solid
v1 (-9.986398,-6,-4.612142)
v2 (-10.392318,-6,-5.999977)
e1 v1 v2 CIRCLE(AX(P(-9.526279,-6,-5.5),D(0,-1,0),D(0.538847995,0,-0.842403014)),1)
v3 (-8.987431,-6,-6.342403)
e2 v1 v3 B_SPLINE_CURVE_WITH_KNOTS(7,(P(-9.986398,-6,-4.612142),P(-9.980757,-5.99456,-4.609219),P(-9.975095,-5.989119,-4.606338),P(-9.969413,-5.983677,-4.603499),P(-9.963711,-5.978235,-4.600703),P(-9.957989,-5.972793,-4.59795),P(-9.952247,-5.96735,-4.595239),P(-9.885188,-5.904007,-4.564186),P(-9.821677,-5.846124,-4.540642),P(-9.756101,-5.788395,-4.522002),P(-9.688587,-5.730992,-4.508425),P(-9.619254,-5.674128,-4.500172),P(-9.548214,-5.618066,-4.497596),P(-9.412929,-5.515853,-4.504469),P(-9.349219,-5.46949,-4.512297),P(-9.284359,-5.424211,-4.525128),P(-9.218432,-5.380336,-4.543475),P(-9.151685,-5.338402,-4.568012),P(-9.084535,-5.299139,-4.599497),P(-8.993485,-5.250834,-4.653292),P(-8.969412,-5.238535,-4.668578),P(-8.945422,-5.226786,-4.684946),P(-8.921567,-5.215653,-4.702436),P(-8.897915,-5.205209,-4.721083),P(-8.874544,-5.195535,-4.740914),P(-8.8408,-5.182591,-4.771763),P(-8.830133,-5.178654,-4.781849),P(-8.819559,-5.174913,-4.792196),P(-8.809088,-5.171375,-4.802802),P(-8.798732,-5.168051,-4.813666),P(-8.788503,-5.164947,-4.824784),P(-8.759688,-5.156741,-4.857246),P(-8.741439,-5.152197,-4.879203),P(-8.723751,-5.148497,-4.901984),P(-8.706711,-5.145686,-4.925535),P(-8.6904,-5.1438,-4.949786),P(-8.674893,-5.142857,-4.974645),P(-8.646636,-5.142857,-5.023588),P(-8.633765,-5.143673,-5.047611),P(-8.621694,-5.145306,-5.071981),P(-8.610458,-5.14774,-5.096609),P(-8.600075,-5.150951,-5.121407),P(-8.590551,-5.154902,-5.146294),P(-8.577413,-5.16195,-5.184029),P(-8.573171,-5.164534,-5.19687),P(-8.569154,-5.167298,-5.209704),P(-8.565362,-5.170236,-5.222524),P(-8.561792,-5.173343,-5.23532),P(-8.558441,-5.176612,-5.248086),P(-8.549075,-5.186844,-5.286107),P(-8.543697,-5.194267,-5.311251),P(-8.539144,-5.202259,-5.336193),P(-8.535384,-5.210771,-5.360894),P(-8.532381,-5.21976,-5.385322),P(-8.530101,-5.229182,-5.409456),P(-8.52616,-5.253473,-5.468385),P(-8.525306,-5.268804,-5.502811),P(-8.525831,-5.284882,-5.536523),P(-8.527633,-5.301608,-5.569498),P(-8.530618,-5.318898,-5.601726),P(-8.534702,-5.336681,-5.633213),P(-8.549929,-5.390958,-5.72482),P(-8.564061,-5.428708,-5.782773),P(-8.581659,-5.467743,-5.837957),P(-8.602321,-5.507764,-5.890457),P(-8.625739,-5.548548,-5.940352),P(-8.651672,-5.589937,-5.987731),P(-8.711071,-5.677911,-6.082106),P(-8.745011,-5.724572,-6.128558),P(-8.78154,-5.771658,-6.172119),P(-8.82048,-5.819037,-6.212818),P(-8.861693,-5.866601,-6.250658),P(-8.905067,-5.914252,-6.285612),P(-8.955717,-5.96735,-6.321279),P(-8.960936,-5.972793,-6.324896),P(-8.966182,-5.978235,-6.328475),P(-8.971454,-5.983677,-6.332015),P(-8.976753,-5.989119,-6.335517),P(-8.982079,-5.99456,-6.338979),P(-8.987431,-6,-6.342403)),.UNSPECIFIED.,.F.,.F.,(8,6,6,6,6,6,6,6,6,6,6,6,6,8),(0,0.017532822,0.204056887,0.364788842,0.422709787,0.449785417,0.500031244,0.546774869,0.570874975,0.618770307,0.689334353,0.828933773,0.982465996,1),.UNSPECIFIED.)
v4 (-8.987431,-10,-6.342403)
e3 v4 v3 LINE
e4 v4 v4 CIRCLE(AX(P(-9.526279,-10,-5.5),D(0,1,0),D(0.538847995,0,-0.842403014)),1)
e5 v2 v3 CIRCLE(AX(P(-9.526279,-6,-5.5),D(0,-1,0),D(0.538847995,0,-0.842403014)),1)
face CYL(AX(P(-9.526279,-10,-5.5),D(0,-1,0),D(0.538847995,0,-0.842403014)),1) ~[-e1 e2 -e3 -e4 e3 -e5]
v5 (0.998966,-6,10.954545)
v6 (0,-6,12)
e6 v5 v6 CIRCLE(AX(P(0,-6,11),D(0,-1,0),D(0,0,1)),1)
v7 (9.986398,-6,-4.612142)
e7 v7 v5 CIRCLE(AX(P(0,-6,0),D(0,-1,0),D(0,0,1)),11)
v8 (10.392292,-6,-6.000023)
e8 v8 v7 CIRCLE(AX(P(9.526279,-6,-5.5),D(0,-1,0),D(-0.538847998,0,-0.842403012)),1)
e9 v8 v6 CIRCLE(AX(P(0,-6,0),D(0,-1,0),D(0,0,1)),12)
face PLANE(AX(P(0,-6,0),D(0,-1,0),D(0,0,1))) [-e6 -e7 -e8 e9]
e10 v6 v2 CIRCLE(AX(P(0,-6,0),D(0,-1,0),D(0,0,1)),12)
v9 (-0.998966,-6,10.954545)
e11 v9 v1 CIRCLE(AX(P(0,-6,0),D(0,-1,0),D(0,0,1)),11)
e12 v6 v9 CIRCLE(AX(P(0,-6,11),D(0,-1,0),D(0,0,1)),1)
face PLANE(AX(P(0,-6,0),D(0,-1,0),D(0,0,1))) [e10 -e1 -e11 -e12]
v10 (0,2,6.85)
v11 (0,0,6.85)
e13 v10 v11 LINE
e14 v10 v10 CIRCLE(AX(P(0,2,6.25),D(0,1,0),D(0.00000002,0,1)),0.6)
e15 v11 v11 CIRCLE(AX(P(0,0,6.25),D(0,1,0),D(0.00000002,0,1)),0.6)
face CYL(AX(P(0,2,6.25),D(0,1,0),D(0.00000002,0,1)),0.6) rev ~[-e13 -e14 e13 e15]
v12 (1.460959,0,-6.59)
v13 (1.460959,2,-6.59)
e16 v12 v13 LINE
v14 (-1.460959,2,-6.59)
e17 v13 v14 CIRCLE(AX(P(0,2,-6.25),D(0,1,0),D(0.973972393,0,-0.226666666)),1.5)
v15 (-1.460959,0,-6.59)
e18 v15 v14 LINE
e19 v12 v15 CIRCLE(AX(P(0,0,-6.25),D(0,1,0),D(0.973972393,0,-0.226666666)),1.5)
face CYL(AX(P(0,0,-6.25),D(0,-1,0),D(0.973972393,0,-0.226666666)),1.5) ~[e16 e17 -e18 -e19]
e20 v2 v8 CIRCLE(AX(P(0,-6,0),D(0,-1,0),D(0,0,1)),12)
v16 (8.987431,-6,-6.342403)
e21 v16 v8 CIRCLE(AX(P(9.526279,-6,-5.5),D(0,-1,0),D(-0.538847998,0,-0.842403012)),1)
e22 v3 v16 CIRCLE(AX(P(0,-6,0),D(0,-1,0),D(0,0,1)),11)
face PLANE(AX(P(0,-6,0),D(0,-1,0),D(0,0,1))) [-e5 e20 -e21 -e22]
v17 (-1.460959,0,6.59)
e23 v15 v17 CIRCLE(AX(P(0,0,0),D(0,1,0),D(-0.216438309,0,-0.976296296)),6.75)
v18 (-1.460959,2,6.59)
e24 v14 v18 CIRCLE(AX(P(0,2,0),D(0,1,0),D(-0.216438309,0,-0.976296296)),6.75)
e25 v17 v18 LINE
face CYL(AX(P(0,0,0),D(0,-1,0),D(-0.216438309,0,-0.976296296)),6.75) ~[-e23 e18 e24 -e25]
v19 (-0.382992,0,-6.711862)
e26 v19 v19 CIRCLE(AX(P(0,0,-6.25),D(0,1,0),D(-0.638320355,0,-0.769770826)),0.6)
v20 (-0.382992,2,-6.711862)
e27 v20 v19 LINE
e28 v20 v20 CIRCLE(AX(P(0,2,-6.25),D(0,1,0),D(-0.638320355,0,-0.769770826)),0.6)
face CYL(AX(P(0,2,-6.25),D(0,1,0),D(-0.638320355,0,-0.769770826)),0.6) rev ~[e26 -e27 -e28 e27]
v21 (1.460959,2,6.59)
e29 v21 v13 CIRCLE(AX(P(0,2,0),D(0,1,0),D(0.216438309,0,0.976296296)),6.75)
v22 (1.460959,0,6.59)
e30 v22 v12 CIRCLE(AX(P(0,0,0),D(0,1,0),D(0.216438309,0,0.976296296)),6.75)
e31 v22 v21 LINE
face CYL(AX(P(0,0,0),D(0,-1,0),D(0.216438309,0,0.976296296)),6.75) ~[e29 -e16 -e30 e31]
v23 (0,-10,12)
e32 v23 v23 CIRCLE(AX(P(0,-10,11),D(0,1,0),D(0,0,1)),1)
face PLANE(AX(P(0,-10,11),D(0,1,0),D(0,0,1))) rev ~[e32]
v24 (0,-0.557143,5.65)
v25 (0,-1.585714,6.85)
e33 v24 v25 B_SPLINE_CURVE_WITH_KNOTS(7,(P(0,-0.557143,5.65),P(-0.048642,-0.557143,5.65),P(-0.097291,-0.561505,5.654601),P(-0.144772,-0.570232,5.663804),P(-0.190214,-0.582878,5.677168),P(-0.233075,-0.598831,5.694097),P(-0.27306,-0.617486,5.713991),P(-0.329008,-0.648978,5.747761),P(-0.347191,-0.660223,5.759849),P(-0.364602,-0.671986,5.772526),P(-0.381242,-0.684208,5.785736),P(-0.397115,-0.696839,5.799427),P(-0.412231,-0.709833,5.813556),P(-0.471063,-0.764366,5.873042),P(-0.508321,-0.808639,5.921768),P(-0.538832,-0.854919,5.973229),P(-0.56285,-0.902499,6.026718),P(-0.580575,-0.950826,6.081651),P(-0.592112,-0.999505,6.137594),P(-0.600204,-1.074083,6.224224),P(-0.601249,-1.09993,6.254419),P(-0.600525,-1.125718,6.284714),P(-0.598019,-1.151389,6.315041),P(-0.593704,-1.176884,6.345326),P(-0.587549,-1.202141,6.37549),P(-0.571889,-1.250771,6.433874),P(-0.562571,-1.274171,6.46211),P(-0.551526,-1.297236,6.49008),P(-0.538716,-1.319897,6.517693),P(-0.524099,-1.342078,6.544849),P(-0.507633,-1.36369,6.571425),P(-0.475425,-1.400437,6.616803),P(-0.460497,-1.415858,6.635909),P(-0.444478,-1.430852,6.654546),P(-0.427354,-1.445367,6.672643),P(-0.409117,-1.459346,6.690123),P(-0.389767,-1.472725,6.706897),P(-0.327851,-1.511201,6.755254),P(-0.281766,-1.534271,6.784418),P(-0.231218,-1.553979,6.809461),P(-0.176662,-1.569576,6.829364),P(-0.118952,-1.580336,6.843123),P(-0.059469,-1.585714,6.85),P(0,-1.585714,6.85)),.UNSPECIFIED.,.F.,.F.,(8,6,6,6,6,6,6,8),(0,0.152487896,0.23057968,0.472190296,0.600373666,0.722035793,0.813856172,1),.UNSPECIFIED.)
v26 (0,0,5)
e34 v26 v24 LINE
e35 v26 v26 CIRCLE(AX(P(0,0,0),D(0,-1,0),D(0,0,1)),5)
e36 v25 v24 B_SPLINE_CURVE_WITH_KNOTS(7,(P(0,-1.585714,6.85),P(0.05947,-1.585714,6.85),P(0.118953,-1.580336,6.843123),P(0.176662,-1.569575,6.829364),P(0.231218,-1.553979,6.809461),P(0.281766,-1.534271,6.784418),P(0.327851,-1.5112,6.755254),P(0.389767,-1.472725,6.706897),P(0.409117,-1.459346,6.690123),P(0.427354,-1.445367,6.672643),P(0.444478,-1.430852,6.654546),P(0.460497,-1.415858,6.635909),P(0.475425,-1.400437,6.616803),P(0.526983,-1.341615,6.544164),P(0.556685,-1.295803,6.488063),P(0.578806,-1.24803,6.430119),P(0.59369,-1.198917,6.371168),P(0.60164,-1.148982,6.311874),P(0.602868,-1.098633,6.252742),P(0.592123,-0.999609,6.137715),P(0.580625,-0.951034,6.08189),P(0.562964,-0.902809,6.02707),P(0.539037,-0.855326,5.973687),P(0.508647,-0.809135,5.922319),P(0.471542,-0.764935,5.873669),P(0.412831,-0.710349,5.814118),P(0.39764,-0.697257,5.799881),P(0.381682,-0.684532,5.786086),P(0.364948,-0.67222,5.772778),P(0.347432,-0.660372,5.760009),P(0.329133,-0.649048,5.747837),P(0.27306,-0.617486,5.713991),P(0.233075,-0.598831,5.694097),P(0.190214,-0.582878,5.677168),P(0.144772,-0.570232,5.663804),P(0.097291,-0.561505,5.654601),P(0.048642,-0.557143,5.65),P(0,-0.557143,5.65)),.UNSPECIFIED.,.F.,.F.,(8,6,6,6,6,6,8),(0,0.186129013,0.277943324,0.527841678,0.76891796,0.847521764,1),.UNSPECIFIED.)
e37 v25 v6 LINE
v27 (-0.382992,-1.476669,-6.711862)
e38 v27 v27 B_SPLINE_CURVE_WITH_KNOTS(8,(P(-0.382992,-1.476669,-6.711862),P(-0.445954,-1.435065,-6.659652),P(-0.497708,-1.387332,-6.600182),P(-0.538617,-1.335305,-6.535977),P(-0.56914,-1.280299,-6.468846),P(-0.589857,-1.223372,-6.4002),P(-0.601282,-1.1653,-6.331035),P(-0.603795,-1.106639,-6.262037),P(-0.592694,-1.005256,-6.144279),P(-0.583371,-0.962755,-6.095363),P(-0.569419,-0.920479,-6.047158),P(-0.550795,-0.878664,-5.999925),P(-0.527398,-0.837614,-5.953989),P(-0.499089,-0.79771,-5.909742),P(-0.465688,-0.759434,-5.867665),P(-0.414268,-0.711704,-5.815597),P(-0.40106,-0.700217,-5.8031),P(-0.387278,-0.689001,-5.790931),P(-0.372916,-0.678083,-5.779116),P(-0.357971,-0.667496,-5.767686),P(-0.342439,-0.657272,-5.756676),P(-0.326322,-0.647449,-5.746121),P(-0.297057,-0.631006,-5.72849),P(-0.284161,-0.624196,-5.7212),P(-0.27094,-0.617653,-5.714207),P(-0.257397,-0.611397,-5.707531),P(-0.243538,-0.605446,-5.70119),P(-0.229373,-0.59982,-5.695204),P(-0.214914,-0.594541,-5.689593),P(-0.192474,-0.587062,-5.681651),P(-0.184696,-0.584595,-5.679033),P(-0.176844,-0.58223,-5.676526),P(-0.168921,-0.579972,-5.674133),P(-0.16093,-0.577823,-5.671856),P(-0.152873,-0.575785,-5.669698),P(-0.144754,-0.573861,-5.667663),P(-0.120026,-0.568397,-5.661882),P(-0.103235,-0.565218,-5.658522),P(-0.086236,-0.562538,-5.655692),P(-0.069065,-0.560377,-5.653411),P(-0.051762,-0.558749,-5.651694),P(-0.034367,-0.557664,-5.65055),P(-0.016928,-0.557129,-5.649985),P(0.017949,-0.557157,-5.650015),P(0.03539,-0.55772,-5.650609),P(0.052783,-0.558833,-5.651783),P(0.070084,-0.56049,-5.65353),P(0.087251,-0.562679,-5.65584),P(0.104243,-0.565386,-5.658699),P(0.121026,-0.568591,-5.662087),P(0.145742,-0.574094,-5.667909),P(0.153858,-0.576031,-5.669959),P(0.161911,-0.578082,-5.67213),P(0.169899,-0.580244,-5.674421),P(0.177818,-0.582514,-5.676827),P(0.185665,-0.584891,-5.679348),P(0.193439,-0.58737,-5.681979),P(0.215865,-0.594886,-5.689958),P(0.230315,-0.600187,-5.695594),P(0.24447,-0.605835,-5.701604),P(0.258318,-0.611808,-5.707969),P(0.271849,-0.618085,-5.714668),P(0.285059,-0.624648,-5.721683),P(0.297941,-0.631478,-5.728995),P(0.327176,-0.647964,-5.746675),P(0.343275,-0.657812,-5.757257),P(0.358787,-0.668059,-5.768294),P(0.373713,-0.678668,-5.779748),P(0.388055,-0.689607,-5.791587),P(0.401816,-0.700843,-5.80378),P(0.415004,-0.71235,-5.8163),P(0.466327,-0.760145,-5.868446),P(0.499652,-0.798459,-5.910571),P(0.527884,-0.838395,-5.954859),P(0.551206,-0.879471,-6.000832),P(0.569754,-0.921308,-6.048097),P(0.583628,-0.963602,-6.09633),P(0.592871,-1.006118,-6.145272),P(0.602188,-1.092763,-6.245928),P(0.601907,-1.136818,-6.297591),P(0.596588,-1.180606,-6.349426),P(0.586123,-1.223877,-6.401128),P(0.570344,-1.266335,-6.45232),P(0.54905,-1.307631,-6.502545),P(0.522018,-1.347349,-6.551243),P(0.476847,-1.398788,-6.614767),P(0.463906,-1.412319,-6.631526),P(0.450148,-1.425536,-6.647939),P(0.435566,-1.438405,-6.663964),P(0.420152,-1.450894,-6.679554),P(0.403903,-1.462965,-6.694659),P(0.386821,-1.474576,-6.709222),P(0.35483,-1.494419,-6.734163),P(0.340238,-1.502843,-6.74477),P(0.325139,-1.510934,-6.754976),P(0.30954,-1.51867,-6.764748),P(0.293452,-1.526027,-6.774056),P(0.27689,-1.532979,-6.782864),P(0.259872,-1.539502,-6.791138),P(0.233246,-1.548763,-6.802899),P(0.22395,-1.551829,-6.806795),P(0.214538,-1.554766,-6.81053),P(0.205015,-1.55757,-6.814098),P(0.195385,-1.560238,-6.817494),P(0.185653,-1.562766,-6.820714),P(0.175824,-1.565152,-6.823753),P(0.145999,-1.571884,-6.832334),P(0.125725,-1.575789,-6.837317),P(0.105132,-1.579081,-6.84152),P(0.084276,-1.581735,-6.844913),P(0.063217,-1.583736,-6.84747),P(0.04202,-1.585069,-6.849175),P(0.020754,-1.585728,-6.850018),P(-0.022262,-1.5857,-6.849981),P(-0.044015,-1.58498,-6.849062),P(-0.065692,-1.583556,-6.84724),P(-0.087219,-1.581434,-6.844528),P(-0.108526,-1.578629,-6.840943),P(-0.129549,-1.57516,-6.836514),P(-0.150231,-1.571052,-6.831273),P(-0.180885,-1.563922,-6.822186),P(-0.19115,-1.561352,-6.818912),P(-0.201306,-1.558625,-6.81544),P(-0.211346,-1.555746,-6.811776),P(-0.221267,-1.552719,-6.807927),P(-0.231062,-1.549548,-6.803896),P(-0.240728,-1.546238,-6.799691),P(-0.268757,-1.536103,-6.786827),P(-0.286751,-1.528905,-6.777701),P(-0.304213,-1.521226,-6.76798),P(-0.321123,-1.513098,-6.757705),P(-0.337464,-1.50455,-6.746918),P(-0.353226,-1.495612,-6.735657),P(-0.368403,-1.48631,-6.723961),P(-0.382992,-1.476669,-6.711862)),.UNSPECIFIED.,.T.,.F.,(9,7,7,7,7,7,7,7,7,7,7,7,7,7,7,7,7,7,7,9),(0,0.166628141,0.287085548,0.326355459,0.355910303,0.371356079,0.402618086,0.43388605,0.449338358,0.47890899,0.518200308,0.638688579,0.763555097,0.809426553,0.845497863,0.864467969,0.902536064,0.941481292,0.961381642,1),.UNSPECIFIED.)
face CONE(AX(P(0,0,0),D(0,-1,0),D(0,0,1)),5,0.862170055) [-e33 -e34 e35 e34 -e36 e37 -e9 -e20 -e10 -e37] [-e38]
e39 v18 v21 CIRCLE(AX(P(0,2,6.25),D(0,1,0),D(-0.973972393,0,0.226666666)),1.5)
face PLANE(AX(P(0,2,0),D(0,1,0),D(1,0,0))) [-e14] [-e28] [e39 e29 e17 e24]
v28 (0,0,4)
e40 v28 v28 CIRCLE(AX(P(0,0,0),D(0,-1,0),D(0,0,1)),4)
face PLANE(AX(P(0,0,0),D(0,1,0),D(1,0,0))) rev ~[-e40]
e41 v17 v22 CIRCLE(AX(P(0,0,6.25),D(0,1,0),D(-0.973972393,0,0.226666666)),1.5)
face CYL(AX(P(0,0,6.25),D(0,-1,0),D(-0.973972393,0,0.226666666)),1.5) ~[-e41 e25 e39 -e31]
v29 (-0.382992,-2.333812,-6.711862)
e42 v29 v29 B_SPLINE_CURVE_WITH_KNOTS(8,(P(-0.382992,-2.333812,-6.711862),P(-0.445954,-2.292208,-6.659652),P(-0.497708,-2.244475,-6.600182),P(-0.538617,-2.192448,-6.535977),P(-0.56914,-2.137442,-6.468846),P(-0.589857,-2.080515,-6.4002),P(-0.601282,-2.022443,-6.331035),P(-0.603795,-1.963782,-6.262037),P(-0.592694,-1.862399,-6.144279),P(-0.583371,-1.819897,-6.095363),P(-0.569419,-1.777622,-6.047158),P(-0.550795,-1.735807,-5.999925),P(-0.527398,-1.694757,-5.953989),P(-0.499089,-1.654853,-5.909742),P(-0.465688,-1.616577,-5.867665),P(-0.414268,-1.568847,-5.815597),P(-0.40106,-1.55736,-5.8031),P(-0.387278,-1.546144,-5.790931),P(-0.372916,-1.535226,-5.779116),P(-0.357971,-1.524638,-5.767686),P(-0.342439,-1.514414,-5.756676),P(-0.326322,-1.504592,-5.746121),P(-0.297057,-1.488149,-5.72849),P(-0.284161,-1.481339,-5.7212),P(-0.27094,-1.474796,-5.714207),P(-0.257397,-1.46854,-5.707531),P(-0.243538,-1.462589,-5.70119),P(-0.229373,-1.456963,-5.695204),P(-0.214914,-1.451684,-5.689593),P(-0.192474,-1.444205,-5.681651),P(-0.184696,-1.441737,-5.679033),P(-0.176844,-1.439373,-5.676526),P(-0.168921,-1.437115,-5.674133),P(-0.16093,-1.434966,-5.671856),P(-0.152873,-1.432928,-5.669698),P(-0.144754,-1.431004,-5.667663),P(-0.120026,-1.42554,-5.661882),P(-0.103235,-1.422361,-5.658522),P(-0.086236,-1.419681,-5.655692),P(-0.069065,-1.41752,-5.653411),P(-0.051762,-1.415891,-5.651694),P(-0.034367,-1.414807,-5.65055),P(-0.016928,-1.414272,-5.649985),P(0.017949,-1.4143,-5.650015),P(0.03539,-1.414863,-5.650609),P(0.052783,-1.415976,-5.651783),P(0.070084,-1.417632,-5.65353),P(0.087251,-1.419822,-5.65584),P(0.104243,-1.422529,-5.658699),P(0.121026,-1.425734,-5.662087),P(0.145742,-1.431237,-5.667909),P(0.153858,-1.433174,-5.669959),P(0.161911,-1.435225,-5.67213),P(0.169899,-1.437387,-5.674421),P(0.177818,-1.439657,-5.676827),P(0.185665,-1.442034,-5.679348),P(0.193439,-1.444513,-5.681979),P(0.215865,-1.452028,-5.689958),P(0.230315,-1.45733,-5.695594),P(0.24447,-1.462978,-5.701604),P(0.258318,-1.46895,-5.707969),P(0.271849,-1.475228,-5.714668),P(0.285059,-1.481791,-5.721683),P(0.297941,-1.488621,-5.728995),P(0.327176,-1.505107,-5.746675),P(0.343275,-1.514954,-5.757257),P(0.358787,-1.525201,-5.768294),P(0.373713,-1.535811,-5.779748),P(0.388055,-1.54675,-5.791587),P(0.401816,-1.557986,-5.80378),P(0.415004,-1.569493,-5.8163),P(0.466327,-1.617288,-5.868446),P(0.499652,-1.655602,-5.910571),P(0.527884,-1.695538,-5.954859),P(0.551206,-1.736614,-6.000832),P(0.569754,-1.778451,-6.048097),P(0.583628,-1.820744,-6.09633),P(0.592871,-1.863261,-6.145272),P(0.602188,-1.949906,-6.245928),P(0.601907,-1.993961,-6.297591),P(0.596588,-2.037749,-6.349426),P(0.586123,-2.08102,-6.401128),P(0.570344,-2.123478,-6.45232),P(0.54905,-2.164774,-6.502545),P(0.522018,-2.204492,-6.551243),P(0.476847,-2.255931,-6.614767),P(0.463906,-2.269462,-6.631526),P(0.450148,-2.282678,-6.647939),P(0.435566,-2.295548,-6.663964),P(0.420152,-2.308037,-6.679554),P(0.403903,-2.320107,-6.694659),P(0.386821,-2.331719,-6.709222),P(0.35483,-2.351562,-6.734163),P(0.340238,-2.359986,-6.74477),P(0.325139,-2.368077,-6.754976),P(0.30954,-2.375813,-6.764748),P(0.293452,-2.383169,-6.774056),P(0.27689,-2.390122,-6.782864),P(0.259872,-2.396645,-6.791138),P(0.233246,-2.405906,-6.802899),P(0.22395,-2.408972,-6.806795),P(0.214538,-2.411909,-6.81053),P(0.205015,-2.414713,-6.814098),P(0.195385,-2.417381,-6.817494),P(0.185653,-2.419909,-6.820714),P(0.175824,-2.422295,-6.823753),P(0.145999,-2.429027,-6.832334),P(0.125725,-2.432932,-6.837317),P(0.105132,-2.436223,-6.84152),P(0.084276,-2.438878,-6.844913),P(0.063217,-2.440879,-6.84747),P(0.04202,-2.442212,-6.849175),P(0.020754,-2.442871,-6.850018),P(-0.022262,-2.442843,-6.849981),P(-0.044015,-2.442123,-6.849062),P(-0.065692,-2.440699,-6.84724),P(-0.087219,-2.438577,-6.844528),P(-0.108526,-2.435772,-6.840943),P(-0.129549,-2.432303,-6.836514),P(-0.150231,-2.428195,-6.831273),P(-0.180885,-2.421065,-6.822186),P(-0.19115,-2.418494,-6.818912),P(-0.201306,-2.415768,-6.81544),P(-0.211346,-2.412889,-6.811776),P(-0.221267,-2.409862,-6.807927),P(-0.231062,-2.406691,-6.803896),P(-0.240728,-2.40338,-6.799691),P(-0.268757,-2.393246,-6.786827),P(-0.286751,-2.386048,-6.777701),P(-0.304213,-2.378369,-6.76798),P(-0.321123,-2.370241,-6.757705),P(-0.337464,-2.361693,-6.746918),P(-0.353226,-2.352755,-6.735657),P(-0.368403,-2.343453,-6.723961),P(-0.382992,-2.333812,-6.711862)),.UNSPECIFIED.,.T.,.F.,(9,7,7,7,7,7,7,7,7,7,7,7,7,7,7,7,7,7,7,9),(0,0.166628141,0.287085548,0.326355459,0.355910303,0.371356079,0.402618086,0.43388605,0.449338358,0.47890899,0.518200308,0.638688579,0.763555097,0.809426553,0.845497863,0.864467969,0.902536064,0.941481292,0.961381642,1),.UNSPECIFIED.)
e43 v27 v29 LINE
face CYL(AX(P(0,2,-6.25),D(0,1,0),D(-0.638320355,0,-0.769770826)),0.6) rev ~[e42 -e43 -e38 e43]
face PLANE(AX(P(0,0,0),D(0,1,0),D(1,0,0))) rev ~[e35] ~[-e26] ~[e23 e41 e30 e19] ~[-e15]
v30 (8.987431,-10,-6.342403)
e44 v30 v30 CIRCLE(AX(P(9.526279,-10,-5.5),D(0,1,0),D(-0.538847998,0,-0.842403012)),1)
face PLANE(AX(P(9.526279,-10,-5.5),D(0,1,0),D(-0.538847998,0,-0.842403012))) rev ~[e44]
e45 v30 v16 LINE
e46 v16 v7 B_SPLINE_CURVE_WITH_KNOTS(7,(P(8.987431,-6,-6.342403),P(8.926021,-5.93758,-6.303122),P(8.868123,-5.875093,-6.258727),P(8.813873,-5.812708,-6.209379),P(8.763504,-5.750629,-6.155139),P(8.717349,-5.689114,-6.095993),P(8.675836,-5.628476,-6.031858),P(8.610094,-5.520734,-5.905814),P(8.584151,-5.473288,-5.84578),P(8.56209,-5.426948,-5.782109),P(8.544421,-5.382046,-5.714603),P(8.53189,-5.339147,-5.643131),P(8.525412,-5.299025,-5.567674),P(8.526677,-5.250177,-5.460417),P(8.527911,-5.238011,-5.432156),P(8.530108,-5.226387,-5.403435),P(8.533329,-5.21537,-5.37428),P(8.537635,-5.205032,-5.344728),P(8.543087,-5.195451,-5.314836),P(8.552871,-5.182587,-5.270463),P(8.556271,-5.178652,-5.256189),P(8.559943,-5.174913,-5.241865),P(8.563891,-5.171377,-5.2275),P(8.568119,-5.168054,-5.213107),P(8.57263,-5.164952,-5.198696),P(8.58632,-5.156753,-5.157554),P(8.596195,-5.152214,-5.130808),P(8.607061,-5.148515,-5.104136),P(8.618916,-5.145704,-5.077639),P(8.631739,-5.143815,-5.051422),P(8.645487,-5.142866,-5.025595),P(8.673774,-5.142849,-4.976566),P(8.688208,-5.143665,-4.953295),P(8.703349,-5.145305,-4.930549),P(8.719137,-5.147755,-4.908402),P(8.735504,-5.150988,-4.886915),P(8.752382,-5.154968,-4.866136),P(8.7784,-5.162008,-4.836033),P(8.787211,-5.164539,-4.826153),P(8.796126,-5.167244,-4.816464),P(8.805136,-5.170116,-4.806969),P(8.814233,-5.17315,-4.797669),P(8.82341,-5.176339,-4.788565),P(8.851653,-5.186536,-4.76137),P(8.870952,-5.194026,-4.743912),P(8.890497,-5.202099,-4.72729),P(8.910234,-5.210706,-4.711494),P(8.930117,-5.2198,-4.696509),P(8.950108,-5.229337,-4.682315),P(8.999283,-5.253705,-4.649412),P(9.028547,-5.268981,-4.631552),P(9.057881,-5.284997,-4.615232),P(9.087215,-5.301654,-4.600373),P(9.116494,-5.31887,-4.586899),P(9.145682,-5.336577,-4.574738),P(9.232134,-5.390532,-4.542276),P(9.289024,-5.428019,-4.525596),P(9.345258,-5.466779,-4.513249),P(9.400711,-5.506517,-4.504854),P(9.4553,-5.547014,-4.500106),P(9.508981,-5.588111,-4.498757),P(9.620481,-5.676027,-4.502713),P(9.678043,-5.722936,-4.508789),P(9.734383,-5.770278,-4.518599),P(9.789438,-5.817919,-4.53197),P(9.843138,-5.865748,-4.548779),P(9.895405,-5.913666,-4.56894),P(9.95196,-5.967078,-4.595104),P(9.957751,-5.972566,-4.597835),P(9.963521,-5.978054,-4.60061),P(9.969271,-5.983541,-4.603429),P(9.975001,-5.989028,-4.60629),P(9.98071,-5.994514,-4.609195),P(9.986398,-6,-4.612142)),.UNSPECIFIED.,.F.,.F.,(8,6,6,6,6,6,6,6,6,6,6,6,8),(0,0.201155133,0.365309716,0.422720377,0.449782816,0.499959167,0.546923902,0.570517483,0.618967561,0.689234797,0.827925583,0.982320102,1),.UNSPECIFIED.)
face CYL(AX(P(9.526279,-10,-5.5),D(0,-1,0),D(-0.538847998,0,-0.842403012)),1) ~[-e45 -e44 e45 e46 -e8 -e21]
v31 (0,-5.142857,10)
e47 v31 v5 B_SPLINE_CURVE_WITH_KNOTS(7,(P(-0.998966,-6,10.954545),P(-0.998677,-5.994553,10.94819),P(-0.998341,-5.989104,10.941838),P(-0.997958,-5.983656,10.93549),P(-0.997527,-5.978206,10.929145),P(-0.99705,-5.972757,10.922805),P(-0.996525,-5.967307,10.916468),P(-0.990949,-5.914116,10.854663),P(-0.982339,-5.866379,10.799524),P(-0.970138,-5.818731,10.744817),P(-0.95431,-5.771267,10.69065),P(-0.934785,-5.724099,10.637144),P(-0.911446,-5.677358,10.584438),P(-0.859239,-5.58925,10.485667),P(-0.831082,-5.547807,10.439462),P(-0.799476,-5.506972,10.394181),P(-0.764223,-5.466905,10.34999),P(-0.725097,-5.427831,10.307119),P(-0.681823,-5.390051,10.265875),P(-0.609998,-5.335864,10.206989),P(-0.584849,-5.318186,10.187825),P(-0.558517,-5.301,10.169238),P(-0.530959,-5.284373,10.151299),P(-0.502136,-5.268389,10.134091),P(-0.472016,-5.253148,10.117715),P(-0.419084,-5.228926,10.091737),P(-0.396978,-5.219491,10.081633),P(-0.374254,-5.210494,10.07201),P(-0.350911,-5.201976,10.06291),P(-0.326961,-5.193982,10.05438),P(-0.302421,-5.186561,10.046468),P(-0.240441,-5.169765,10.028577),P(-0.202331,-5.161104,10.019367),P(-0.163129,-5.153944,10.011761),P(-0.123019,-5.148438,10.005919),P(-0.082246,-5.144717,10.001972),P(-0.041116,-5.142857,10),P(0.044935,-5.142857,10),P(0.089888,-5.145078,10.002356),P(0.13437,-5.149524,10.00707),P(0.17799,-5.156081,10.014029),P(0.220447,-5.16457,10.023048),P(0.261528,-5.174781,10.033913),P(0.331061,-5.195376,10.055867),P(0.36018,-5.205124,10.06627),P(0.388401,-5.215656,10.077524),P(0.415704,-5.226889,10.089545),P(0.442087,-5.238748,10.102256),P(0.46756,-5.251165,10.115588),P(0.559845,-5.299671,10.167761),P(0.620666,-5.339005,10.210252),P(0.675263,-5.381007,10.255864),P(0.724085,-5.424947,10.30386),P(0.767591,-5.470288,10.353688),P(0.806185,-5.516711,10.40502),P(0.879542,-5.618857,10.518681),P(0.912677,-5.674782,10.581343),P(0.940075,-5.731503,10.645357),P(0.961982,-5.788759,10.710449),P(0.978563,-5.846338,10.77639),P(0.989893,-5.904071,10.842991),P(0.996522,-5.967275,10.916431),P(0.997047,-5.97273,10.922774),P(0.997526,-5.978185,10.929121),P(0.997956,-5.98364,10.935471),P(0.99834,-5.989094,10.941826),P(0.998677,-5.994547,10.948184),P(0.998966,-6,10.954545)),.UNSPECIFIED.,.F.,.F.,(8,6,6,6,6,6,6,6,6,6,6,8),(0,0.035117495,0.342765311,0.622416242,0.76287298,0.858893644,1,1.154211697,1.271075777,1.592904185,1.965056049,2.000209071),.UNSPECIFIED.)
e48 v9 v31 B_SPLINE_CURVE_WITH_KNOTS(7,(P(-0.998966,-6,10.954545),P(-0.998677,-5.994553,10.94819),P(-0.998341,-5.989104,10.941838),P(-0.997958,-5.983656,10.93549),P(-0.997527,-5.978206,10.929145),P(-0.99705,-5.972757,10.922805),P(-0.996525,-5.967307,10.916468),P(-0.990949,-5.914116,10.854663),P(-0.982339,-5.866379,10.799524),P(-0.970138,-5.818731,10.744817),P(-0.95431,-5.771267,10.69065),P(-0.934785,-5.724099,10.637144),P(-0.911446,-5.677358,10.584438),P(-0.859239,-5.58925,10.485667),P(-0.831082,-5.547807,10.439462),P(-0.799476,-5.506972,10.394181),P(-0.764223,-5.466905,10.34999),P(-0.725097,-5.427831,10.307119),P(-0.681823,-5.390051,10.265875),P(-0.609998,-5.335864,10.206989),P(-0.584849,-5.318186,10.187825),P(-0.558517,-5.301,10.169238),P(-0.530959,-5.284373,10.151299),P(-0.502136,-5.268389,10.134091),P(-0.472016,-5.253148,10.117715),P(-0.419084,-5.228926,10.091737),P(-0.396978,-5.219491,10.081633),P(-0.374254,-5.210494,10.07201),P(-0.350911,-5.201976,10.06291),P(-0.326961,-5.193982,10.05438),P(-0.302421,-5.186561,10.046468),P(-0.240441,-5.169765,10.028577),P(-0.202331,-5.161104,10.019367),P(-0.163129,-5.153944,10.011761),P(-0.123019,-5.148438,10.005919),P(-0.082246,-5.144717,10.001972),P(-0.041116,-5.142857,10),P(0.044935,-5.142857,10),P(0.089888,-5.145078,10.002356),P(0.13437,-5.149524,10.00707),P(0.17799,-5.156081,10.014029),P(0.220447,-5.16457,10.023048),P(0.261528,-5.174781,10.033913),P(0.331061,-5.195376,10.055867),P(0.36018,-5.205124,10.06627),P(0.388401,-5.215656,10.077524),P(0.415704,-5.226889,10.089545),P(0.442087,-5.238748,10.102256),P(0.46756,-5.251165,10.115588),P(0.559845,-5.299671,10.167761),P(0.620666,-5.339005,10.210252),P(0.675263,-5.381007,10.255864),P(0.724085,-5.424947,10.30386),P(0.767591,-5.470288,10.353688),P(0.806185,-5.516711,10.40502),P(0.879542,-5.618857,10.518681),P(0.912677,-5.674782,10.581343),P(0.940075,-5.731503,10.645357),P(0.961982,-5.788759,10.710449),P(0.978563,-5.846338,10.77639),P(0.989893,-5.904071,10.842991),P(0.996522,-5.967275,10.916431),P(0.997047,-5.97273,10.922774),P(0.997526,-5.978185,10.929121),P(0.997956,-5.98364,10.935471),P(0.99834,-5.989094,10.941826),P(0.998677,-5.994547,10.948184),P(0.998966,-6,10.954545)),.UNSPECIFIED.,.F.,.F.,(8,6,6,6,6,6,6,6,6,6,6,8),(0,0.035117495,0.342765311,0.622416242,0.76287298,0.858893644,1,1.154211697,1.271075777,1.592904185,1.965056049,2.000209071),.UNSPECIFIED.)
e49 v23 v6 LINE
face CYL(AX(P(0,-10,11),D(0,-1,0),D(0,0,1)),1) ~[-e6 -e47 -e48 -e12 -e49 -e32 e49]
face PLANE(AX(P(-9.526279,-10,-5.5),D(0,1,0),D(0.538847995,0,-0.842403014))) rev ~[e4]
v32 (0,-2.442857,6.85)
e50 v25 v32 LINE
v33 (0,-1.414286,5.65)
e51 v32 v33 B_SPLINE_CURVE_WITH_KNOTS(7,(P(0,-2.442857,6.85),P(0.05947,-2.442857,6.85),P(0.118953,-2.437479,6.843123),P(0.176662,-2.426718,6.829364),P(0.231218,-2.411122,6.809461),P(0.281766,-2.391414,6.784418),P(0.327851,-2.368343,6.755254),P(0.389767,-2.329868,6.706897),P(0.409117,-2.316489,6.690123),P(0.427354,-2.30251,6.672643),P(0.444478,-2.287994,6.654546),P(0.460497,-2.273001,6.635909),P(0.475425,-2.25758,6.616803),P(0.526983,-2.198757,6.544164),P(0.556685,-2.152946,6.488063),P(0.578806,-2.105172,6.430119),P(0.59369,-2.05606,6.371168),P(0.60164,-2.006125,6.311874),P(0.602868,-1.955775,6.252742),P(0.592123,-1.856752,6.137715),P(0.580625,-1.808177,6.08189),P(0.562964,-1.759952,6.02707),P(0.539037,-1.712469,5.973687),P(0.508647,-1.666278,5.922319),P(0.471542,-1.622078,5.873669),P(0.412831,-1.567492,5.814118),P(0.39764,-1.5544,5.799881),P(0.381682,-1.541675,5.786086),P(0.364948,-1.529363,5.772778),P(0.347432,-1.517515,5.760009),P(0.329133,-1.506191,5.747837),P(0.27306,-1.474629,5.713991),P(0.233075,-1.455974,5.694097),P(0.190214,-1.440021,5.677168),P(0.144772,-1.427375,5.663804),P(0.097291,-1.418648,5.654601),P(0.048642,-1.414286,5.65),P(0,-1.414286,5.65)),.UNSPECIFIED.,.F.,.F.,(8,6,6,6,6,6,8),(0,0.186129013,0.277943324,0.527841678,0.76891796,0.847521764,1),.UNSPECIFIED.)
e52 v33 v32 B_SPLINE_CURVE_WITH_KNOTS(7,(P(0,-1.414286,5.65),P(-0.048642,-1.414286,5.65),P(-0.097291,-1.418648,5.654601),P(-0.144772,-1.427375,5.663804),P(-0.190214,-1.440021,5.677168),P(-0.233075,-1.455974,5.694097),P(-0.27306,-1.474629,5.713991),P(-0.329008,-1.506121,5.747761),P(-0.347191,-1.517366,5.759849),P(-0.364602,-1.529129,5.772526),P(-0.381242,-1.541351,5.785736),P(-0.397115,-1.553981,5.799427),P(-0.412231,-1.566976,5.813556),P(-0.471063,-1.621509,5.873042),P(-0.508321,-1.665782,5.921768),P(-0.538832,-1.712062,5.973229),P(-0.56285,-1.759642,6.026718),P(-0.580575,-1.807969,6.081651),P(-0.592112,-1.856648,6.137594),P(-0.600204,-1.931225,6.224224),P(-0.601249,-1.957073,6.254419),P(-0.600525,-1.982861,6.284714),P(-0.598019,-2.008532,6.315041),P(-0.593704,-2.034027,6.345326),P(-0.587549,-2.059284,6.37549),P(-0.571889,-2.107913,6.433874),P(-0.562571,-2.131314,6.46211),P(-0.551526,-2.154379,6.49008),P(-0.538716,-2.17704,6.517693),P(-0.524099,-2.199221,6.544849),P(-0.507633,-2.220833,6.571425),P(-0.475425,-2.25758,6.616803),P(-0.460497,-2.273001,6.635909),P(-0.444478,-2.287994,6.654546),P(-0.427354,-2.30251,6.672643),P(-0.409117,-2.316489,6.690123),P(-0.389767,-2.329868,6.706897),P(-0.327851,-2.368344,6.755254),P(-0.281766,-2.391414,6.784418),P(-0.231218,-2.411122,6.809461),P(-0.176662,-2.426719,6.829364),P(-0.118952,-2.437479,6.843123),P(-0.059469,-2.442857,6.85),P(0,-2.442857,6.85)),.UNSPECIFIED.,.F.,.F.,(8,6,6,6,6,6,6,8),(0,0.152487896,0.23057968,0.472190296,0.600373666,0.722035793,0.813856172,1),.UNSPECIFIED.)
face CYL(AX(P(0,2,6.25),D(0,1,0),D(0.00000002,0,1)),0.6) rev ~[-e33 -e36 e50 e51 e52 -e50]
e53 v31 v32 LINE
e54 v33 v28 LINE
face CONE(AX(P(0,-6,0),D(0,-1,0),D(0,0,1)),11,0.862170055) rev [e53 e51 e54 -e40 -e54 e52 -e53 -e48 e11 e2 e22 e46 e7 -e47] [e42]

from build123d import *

# Parameters (mm, degrees)
BOSS_EXTRUDE4_DEPTH = 2
BOSS_EXTRUDE3_REACH = 22.785
PEG_R               = 1
SKETCH4_R           = 0.6
CUT_EXTRUDE1_DEPTH  = 21.784609806


with BuildPart() as part:
    # Sketch1 → Boss-Extrude4 (new body)
    with BuildSketch(Plane(origin=(0, 0, 0), x_dir=(1, 0, 0), z_dir=(0, 1, 0))):
        with BuildLine():
            ThreePointArc((1.460958589, -6.59), (6.75, 0), (1.460958589, 6.59))
            ThreePointArc((1.460958589, 6.59), (0, 7.75), (-1.460958589, 6.59))
            ThreePointArc((-1.460958589, 6.59), (-6.75, 0), (-1.460958589, -6.59))
            ThreePointArc((-1.460958589, -6.59), (0, -7.75), (1.460958589, -6.59))
        make_face()
    extrude(amount=BOSS_EXTRUDE4_DEPTH)

    # Sketch3 → Revolve1 (revolve)
    with BuildSketch(Plane(origin=(0, 0, 0), x_dir=(0, 0, -1), z_dir=(1, 0, 0))):
        Polygon((-4, 0), (-5, 0), (-12, -6), (-11, -6), align=None)
    revolve(axis=Axis((0, 0.65, 0), (0, -1, 0)))

    # Peg → Boss-Extrude3 (add, up to next)
    with BuildSketch(Plane(origin=(0, -10, 0), x_dir=(1, 0, 0), z_dir=(0, 1, 0)), mode=Mode.PRIVATE) as boss_extrude3_sk1:
        with Locations((0, -11)):
            Circle(PEG_R)
    boss_extrude3_tool1 = extrude(boss_extrude3_sk1.sketch, amount=BOSS_EXTRUDE3_REACH, mode=Mode.PRIVATE) - part.part
    # Peg → Boss-Extrude3 (add, up to next)
    with BuildSketch(Plane(origin=(0, -10, 0), x_dir=(1, 0, 0), z_dir=(0, 1, 0)), mode=Mode.PRIVATE) as boss_extrude3_sk2:
        with Locations((-9.526279442, 5.5)):
            Circle(PEG_R)
    boss_extrude3_tool2 = extrude(boss_extrude3_sk2.sketch, amount=BOSS_EXTRUDE3_REACH, mode=Mode.PRIVATE) - part.part
    # Peg → Boss-Extrude3 (add, up to next)
    with BuildSketch(Plane(origin=(0, -10, 0), x_dir=(1, 0, 0), z_dir=(0, 1, 0)), mode=Mode.PRIVATE) as boss_extrude3_sk3:
        with Locations((9.526279442, 5.5)):
            Circle(PEG_R)
    boss_extrude3_tool3 = extrude(boss_extrude3_sk3.sketch, amount=BOSS_EXTRUDE3_REACH, mode=Mode.PRIVATE) - part.part
    add(boss_extrude3_tool1.solids().sort_by_distance((0, -10, 11))[0])
    add(boss_extrude3_tool2.solids().sort_by_distance((-9.526279, -10, -5.5))[0])
    add(boss_extrude3_tool3.solids().sort_by_distance((9.526279, -10, -5.5))[0])

    # Sketch4 → Cut-Extrude1 (cut, through all)
    with BuildSketch(Plane(origin=(0, 2, 0), x_dir=(1, 0, 0), z_dir=(0, 1, 0))):
        with Locations((0, 6.25)):
            Circle(SKETCH4_R)
        with Locations((0, -6.25)):
            Circle(SKETCH4_R)
    extrude(amount=-CUT_EXTRUDE1_DEPTH, mode=Mode.SUBTRACT)


solid = part.part
